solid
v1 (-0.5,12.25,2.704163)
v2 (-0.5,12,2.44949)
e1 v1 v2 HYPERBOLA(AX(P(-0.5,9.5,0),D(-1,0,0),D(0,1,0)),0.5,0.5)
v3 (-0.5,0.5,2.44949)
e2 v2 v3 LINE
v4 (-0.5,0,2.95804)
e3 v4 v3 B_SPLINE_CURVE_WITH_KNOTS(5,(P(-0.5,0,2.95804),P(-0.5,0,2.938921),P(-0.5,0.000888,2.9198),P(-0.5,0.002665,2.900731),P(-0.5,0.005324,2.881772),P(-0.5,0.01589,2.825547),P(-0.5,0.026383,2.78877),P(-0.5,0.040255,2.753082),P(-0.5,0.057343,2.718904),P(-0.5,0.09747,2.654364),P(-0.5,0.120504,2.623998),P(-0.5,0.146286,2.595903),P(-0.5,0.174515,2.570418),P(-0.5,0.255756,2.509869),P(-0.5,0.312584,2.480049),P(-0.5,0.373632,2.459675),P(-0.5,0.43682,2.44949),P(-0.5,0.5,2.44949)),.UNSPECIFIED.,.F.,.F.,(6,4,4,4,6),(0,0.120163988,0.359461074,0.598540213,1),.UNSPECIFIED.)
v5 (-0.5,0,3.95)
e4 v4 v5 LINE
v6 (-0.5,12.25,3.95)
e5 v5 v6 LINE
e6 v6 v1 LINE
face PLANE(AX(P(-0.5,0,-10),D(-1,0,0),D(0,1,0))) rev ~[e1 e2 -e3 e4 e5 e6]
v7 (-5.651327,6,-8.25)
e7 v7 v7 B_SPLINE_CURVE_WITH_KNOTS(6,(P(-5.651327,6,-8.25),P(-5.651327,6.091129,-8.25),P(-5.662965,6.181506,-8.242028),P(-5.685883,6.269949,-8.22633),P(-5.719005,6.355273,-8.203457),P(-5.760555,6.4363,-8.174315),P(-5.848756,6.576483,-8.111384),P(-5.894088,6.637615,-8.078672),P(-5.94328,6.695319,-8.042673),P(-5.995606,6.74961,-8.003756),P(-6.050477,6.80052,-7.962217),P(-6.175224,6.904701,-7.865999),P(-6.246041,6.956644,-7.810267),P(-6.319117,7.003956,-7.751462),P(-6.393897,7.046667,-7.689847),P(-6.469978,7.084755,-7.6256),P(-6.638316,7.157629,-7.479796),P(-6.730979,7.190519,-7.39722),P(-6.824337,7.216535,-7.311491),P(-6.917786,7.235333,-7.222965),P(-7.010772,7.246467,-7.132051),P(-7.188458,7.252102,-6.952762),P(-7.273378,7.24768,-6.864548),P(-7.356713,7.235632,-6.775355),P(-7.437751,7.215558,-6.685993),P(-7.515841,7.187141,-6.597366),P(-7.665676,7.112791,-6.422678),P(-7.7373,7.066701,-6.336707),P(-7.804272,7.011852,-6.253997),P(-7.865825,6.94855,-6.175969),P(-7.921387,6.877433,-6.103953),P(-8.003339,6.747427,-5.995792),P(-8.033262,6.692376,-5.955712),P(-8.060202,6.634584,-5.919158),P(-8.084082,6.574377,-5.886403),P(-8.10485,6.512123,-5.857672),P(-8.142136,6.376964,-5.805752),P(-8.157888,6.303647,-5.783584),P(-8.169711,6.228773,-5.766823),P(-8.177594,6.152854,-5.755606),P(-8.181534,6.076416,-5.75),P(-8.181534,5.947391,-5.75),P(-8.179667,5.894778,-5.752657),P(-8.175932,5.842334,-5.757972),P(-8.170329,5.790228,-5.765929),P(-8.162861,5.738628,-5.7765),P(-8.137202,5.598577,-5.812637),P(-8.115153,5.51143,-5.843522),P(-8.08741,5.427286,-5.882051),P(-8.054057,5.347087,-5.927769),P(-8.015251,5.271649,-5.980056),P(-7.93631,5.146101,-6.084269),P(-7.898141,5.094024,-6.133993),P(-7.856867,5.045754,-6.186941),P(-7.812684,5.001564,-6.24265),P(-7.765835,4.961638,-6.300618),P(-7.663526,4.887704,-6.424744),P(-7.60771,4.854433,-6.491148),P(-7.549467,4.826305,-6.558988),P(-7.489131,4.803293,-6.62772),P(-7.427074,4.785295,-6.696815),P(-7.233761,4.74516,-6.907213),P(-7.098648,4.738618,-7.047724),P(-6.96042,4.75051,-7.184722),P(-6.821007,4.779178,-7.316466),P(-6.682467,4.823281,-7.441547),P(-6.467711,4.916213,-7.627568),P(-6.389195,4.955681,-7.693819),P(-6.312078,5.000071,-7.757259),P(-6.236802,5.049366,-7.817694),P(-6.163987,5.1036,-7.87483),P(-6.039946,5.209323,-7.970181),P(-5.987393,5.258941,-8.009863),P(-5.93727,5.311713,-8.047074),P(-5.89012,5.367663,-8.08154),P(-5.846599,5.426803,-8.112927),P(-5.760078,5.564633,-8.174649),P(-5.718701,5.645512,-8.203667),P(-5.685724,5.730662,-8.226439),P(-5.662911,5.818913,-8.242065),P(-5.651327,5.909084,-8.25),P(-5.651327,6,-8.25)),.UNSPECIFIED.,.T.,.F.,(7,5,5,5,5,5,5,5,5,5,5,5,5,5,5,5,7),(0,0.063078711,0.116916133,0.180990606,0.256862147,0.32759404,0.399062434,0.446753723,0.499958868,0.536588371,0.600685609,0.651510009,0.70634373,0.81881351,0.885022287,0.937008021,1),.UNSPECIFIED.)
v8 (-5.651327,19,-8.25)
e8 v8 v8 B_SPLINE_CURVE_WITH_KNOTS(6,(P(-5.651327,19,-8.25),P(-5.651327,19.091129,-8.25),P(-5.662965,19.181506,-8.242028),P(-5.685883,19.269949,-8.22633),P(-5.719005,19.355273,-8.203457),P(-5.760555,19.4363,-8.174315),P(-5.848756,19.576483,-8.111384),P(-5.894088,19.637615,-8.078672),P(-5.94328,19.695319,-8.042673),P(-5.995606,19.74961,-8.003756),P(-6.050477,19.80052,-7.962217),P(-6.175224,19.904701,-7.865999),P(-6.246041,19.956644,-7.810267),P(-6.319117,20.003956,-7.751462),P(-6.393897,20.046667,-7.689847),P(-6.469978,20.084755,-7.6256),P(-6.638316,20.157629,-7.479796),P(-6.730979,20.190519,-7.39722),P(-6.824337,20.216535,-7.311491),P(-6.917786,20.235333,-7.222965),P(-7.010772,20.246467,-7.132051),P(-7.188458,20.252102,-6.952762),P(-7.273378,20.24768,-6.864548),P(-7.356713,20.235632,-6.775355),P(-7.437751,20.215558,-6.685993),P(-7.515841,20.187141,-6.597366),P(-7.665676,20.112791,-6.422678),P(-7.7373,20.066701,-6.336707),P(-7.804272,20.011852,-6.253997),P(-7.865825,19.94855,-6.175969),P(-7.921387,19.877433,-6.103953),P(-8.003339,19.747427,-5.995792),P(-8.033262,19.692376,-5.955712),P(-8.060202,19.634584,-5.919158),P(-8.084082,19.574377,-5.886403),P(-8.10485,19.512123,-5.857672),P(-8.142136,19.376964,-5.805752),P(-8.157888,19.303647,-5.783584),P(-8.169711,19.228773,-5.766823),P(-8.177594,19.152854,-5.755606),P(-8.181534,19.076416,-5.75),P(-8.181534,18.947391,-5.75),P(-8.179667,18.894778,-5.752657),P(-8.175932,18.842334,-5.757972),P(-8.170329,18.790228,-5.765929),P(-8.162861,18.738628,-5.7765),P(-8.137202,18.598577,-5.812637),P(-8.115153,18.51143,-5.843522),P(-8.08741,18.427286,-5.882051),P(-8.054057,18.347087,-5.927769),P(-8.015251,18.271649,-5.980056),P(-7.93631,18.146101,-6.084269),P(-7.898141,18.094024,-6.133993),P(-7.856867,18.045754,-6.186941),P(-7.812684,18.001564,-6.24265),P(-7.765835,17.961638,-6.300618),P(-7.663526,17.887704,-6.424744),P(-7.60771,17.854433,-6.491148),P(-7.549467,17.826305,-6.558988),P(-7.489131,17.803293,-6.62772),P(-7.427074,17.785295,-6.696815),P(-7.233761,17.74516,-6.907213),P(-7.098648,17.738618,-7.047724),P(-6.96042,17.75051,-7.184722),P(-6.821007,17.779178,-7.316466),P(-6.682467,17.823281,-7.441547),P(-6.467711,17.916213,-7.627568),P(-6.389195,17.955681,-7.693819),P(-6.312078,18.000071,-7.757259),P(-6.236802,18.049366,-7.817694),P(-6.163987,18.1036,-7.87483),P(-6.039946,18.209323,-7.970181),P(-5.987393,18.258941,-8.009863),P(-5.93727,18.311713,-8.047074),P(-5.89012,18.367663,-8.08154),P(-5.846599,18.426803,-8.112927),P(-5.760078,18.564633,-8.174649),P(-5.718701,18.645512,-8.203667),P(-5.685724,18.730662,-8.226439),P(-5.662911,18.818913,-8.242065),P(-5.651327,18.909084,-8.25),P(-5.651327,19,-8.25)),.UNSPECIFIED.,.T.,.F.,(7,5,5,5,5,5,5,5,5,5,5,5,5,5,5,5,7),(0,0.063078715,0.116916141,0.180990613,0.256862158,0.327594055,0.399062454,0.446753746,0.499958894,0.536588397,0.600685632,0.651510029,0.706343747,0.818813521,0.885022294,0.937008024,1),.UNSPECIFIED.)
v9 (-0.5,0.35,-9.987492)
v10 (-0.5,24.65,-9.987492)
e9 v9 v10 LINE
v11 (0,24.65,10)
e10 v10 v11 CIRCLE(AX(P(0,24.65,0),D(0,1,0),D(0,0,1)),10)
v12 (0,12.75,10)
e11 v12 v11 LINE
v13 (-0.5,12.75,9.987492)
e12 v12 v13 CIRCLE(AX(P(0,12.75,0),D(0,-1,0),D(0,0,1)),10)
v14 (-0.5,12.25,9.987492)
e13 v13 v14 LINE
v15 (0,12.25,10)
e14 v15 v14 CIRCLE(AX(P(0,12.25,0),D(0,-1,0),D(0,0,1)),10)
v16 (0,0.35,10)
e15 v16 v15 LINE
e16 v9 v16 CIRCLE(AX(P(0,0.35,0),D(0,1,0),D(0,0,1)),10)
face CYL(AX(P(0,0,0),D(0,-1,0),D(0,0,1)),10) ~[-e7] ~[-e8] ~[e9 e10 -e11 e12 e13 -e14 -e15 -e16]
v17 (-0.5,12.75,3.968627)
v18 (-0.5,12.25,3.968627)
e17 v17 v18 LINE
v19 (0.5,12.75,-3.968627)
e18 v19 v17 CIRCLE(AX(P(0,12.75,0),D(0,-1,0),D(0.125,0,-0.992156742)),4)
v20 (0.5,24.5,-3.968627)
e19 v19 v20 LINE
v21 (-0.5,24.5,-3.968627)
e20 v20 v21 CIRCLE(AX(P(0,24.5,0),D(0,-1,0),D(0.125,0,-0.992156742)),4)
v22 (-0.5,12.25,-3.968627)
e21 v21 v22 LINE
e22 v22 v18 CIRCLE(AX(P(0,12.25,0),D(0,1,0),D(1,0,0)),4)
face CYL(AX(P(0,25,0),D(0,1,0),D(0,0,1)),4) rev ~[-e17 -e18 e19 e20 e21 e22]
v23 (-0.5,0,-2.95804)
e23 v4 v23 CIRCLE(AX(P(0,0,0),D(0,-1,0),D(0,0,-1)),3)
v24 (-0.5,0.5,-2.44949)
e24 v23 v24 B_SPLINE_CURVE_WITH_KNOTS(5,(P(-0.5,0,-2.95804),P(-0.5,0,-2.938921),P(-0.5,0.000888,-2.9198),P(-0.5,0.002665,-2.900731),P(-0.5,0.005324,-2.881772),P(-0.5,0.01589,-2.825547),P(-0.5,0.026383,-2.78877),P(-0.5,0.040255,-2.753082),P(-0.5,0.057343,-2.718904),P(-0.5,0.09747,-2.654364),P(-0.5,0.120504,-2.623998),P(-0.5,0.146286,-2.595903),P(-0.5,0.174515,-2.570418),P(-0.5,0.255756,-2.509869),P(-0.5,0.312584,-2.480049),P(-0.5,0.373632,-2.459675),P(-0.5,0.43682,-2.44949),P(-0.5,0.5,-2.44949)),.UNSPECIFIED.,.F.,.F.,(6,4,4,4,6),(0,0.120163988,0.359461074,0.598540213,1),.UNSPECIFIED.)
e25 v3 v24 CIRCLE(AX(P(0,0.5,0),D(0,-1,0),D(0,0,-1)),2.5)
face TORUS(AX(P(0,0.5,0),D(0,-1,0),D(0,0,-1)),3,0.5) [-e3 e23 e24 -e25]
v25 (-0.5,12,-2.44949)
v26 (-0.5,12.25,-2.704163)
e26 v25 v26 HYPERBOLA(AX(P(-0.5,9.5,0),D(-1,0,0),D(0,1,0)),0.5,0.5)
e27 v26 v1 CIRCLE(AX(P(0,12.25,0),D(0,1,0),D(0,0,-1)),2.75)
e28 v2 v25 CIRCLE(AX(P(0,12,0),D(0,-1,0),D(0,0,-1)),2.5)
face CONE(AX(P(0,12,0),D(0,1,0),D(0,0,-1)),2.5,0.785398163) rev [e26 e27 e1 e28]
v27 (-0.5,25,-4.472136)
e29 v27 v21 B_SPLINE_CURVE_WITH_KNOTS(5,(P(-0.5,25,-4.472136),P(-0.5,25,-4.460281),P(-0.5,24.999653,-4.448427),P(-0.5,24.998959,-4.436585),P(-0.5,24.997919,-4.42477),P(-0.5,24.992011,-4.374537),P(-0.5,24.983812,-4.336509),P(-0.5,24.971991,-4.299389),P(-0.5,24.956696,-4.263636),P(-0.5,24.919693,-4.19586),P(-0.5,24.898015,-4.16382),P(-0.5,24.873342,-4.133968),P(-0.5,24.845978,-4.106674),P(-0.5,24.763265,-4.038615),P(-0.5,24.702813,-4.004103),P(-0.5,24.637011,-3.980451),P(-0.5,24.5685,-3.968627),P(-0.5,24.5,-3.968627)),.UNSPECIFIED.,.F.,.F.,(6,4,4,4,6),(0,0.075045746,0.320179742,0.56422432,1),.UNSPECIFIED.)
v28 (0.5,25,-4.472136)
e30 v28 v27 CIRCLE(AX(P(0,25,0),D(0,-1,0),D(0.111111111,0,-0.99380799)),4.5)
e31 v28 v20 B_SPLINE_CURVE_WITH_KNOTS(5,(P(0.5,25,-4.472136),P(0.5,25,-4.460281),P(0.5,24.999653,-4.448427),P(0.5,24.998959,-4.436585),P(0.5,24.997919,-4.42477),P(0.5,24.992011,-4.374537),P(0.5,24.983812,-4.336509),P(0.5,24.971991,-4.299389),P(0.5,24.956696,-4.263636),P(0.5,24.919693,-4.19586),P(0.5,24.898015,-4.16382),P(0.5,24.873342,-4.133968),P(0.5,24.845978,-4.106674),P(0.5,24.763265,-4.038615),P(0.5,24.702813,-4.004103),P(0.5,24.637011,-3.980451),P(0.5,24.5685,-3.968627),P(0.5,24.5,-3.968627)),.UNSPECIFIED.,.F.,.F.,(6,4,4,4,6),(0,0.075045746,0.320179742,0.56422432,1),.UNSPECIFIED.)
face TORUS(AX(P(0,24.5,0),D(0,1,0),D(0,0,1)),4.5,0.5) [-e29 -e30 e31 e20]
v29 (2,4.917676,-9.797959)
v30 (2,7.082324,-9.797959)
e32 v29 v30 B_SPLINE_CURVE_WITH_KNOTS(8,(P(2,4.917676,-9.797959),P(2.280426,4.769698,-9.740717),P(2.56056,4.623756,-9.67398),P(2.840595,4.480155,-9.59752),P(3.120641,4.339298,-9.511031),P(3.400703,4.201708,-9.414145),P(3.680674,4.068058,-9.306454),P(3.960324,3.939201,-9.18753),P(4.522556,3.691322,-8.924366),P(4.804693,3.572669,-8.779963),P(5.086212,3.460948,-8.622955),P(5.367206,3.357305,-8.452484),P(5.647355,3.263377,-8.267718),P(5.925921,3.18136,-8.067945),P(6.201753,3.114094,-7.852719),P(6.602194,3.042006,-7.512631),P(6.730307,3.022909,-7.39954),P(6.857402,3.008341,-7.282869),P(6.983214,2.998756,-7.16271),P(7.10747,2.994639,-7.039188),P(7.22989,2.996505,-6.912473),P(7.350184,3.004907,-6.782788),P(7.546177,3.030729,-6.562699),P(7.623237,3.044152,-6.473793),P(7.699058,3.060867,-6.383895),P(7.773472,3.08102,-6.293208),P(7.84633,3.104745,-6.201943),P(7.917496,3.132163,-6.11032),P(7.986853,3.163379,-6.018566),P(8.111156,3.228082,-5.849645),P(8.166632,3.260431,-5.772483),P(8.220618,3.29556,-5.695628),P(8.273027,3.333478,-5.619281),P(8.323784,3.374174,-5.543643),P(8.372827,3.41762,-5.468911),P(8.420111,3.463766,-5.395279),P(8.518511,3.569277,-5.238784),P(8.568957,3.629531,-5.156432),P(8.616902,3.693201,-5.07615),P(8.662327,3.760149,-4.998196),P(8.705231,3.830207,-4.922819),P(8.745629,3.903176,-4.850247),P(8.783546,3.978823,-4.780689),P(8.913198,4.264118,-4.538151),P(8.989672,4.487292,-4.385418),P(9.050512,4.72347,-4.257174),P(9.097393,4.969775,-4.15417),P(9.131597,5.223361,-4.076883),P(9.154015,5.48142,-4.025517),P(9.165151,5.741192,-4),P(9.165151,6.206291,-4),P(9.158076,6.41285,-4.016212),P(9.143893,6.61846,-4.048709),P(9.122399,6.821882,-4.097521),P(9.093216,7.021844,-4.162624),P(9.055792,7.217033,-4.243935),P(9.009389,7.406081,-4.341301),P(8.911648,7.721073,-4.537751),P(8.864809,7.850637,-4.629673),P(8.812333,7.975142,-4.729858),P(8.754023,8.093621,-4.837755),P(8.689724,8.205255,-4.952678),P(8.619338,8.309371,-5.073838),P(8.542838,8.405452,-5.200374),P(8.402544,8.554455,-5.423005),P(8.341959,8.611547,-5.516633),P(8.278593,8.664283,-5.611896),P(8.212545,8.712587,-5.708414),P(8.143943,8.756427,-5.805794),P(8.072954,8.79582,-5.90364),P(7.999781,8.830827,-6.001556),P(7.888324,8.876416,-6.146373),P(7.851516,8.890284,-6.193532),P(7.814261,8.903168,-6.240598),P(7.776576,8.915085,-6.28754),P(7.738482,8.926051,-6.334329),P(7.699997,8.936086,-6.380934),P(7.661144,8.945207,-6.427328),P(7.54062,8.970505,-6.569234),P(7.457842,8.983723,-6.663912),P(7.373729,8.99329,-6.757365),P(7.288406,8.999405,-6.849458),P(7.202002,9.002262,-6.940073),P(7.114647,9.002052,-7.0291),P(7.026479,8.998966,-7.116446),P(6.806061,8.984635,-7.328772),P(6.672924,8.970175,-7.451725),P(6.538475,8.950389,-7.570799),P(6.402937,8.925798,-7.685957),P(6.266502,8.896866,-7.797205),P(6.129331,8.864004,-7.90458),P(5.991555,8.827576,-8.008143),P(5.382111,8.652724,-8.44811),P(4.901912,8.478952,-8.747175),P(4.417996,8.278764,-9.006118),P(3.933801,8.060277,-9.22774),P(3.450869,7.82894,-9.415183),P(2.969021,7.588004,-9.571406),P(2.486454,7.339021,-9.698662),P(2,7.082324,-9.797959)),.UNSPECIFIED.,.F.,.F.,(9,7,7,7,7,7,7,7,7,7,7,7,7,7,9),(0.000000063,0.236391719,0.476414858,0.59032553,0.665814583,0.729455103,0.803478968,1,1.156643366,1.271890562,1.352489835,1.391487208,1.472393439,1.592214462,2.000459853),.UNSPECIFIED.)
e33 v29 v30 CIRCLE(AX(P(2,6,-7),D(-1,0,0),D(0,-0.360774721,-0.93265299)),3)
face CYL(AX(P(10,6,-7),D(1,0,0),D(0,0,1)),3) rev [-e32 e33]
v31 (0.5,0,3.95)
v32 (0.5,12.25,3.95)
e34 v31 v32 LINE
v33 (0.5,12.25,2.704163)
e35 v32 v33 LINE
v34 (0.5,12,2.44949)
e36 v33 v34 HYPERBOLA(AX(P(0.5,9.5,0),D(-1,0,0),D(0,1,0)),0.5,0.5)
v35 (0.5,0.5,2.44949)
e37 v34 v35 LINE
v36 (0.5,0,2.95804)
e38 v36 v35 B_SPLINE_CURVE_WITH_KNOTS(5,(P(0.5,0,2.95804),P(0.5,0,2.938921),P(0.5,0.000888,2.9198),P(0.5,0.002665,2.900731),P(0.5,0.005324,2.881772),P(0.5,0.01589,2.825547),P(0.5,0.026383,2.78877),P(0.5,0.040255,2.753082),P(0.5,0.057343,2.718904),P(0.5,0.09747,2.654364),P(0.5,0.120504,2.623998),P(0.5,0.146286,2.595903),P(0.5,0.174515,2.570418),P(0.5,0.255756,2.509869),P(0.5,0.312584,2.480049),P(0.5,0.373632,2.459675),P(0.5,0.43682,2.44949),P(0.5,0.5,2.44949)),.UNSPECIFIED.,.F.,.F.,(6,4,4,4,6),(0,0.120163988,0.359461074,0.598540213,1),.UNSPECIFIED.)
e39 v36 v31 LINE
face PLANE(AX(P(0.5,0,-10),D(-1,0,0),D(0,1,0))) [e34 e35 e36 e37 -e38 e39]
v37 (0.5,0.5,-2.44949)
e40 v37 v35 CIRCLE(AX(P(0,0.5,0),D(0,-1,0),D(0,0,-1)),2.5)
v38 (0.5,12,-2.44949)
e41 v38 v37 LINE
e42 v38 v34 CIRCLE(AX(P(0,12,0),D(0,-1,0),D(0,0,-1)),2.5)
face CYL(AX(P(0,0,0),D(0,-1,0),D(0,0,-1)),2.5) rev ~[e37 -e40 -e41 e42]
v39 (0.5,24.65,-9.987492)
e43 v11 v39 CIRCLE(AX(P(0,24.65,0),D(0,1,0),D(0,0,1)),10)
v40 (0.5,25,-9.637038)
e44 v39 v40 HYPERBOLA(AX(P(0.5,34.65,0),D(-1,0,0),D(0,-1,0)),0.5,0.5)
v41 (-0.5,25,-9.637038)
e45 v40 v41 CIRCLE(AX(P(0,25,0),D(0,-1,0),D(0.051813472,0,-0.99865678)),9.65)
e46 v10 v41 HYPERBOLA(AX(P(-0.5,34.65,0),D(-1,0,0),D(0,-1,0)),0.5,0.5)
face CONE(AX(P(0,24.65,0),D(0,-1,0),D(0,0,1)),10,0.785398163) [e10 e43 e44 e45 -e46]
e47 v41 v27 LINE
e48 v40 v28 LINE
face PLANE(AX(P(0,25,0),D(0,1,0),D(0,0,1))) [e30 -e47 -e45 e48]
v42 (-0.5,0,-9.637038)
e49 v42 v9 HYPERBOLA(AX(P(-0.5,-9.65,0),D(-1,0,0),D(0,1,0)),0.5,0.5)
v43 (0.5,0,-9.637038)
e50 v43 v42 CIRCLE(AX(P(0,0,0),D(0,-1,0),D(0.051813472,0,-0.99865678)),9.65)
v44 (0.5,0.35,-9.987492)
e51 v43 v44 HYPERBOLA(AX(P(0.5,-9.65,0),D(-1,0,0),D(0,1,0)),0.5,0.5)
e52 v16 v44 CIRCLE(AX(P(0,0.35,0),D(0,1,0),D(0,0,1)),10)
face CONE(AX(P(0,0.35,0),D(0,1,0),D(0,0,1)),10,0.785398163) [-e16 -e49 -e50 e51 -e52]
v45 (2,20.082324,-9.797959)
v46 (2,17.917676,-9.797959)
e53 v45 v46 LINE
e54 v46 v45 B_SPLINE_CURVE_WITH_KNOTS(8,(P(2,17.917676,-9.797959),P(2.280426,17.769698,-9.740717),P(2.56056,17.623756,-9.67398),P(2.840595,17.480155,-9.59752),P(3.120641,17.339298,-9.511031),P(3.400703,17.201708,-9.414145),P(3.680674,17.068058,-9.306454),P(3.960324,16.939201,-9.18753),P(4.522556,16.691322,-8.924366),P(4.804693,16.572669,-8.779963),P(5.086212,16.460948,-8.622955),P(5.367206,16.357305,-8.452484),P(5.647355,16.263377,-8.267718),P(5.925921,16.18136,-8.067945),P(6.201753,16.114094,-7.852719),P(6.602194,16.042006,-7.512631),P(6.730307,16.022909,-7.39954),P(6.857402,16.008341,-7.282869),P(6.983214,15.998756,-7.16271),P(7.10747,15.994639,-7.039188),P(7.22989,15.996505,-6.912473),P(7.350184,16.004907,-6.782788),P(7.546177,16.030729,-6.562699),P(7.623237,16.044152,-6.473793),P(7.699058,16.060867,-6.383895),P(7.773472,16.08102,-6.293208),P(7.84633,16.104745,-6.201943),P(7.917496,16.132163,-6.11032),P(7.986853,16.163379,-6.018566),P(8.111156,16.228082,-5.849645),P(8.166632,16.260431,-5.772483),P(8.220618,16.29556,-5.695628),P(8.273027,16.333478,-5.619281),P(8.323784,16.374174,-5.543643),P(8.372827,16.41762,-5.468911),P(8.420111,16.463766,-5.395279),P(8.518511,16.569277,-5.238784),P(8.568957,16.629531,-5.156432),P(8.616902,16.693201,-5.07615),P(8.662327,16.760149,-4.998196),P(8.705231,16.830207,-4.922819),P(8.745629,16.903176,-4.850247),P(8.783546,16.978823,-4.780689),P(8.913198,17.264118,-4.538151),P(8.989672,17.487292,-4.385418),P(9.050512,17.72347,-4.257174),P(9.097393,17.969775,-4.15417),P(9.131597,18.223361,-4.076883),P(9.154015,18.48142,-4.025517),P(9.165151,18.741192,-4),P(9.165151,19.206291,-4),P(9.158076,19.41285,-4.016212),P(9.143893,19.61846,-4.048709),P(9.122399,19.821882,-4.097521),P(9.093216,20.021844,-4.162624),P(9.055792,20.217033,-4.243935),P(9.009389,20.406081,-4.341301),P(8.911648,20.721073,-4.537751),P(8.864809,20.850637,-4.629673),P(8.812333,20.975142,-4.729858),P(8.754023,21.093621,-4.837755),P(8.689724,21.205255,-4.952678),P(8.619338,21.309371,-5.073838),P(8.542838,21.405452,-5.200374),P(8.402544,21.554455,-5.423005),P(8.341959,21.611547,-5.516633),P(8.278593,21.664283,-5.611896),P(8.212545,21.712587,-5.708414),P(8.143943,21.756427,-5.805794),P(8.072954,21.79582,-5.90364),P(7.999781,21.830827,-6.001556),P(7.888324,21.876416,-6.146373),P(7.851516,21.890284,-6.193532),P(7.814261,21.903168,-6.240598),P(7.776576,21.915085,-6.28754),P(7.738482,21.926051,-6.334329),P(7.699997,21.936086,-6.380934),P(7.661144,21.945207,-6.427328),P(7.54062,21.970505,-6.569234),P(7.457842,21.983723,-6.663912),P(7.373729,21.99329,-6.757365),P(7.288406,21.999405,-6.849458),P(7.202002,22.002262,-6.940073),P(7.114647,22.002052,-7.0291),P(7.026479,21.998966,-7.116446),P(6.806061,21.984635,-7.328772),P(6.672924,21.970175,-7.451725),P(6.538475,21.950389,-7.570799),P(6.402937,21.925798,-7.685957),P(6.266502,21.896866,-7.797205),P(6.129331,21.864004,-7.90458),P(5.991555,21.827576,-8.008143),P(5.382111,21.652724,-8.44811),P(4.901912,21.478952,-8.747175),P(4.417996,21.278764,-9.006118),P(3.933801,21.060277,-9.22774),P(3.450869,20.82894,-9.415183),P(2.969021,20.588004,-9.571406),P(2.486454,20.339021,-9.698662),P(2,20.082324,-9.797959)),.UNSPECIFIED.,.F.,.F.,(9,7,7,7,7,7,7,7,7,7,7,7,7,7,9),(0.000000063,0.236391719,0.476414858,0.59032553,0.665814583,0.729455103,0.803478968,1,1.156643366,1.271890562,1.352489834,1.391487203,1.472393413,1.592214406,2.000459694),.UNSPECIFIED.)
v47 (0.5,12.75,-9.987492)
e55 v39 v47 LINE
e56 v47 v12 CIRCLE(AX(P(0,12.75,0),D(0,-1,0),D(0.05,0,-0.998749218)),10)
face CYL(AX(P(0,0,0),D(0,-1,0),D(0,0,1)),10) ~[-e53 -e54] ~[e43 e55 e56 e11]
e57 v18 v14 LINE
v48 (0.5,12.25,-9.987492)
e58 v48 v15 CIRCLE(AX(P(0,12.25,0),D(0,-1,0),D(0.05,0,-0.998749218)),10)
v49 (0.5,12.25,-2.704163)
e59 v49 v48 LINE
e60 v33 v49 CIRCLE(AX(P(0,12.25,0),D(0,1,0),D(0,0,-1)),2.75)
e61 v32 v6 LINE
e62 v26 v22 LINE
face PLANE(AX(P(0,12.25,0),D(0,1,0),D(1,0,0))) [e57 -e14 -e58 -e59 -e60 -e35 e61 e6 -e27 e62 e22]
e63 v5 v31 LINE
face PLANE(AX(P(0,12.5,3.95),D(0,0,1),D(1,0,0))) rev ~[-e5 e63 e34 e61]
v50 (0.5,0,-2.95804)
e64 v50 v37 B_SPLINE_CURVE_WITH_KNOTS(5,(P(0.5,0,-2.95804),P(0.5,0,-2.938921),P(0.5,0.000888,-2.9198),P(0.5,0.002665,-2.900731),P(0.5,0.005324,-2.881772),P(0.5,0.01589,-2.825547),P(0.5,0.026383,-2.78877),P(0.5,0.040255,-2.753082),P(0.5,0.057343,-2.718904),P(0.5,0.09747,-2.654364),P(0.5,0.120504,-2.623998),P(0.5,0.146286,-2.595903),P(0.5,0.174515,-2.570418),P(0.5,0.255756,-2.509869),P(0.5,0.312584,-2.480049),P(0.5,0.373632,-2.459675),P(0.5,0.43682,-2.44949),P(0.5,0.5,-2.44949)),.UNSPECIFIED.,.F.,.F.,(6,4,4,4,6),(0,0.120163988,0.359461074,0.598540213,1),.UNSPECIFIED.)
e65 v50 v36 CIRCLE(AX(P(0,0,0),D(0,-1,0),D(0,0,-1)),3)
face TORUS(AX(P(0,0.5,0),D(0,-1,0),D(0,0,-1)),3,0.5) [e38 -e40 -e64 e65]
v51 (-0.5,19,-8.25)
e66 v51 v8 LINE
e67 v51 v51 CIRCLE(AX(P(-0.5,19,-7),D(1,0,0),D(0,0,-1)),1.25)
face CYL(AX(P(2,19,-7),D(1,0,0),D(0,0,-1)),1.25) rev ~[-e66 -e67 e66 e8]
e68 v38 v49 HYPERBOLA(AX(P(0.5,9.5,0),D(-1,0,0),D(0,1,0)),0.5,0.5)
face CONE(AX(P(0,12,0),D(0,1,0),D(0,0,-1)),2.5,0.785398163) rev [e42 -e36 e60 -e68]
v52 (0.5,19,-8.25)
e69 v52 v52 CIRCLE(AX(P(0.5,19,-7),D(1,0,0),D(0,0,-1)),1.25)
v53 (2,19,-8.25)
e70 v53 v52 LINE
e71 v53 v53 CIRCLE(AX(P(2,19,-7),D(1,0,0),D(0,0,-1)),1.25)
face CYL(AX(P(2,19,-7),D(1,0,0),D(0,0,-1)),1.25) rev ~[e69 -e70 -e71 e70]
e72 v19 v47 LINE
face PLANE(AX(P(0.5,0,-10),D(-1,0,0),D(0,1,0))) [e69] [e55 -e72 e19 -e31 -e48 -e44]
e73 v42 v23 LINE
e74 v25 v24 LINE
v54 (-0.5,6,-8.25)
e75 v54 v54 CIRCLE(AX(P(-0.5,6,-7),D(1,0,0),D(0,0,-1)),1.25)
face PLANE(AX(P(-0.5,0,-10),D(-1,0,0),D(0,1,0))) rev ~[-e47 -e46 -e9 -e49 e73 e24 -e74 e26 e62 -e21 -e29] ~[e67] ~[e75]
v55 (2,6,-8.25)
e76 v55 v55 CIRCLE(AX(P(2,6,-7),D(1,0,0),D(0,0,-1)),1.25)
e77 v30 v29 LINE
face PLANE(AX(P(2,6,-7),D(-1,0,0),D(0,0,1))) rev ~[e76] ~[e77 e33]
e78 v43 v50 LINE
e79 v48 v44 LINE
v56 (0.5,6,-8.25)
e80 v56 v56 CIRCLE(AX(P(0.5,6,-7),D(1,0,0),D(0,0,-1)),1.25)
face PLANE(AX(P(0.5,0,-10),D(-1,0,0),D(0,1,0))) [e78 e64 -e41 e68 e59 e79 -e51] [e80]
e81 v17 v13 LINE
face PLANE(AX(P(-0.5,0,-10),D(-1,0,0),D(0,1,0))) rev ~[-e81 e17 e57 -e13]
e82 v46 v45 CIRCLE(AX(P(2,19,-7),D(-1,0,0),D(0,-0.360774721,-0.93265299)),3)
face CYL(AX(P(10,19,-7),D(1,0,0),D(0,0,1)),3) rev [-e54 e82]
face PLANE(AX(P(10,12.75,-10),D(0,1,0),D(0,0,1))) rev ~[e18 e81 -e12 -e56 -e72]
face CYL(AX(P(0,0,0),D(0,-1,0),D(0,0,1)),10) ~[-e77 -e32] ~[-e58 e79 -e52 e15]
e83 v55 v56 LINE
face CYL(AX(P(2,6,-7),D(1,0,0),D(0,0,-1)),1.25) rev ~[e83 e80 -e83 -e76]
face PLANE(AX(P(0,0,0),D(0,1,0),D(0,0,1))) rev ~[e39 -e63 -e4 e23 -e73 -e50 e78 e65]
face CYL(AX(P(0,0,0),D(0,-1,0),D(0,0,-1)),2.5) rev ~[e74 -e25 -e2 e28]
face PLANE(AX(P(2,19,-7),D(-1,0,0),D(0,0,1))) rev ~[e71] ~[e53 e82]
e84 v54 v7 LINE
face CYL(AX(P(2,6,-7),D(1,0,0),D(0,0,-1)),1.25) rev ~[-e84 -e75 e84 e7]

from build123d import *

# Parameters (mm, degrees)
SKETCH1_R           = 10
BOSS_EXTRUDE1_DEPTH = 25
SKETCH2_R           = 4
CUT_EXTRUDE1_DEPTH  = 12.5
SKETCH3_R           = 2.5
CUT_EXTRUDE2_DEPTH  = 12.5
FILLET1_R           = 0.5
CHAMFER2_SIZE       = 0.5
CHAMFER3_SIZE       = 0.35
SKETCH4_R           = 3
CUT_EXTRUDE3_DEPTH  = 8
SKETCH5_R           = 1.25
CUT_EXTRUDE4_DEPTH  = 30.478806021
SKETCH6_W           = 1
SKETCH6_H           = 25
CUT_EXTRUDE5_DEPTH  = 13.95
SKETCH7_W           = 20.006481037
SKETCH7_H           = 0.5
CUT_EXTRUDE6_DEPTH  = 10.5
CUT_EXTRUDE7_START  = 13.975
SKETCH8_R           = 4
CUT_EXTRUDE7_DEPTH  = 13.975


with BuildPart() as part:
    # Sketch1 → Boss-Extrude1 (new body)
    with BuildSketch(Plane(origin=(0, 0, 0), x_dir=(1, 0, 0), z_dir=(0, 1, 0))):
        with Locations(Location((0, 0, 0), (0, 0, 270))):
            Circle(SKETCH1_R)
    extrude(amount=BOSS_EXTRUDE1_DEPTH)

    # Sketch2 → Cut-Extrude1 (cut)
    with BuildSketch(Plane(origin=(0, 25, 0), x_dir=(1, 0, 0), z_dir=(0, 1, 0))):
        with Locations(Location((0, 0, 0), (0, 0, 270))):
            Circle(SKETCH2_R)
    extrude(amount=-CUT_EXTRUDE1_DEPTH, mode=Mode.SUBTRACT)

    # Sketch3 → Cut-Extrude2 (cut)
    with BuildSketch(Plane.XZ):
        with Locations(Location((0, 0, 0), (0, 0, 270))):
            Circle(SKETCH3_R)
    extrude(amount=-CUT_EXTRUDE2_DEPTH, mode=Mode.SUBTRACT)

    # Fillet1
    fillet1_edges = [part.edges().sort_by_distance(p)[0] for p in [
        (0, 0, 2.5),
        (0, 25, -4),
    ]]
    fillet(fillet1_edges, radius=FILLET1_R)

    # Chamfer2
    chamfer2_edges = [part.edges().sort_by_distance(p)[0] for p in [
        (0, 12.5, 2.5),
    ]]
    chamfer(chamfer2_edges, length=CHAMFER2_SIZE)

    # Chamfer3
    chamfer3_edges = [part.edges().sort_by_distance(p)[0] for p in [
        (0, 0, -10),
        (0, 25, -10),
    ]]
    chamfer(chamfer3_edges, length=CHAMFER3_SIZE)

    # Sketch4 → Cut-Extrude3 (cut)
    with BuildSketch(Plane.ZY.offset(-10)):
        with Locations((-7, 19)):
            Circle(SKETCH4_R)
        with Locations((-7, 6)):
            Circle(SKETCH4_R)
    extrude(amount=CUT_EXTRUDE3_DEPTH, mode=Mode.SUBTRACT)

    # Sketch5 → Cut-Extrude4 (cut, through all)
    with BuildSketch(Plane(origin=(2, 0, 0), x_dir=(0, 0, -1), z_dir=(1, 0, 0))):
        with Locations((7, 19)):
            Circle(SKETCH5_R)
        with Locations((7, 6)):
            Circle(SKETCH5_R)
    extrude(amount=-CUT_EXTRUDE4_DEPTH, mode=Mode.SUBTRACT)

    # Sketch6 → Cut-Extrude5 (cut)
    with BuildSketch(Plane.XY.offset(-10)):
        with Locations((0, 12.5)):
            Rectangle(SKETCH6_W, SKETCH6_H)
    extrude(amount=CUT_EXTRUDE5_DEPTH, mode=Mode.SUBTRACT)

    # Sketch7 → Cut-Extrude6 (cut)
    with BuildSketch(Plane.ZY.offset(-10)):
        with Locations((0.003240519, 12.5)):
            Rectangle(SKETCH7_W, SKETCH7_H)
    extrude(amount=CUT_EXTRUDE6_DEPTH, mode=Mode.SUBTRACT)

    # Sketch8 → Cut-Extrude7 (cut)
    with BuildSketch(Plane(origin=(0, 12.25, 0), x_dir=(1, 0, 0), z_dir=(0, 1, 0)).offset(CUT_EXTRUDE7_START)):
        Circle(SKETCH8_R)
    extrude(amount=-CUT_EXTRUDE7_DEPTH, mode=Mode.SUBTRACT)


solid = part.part
